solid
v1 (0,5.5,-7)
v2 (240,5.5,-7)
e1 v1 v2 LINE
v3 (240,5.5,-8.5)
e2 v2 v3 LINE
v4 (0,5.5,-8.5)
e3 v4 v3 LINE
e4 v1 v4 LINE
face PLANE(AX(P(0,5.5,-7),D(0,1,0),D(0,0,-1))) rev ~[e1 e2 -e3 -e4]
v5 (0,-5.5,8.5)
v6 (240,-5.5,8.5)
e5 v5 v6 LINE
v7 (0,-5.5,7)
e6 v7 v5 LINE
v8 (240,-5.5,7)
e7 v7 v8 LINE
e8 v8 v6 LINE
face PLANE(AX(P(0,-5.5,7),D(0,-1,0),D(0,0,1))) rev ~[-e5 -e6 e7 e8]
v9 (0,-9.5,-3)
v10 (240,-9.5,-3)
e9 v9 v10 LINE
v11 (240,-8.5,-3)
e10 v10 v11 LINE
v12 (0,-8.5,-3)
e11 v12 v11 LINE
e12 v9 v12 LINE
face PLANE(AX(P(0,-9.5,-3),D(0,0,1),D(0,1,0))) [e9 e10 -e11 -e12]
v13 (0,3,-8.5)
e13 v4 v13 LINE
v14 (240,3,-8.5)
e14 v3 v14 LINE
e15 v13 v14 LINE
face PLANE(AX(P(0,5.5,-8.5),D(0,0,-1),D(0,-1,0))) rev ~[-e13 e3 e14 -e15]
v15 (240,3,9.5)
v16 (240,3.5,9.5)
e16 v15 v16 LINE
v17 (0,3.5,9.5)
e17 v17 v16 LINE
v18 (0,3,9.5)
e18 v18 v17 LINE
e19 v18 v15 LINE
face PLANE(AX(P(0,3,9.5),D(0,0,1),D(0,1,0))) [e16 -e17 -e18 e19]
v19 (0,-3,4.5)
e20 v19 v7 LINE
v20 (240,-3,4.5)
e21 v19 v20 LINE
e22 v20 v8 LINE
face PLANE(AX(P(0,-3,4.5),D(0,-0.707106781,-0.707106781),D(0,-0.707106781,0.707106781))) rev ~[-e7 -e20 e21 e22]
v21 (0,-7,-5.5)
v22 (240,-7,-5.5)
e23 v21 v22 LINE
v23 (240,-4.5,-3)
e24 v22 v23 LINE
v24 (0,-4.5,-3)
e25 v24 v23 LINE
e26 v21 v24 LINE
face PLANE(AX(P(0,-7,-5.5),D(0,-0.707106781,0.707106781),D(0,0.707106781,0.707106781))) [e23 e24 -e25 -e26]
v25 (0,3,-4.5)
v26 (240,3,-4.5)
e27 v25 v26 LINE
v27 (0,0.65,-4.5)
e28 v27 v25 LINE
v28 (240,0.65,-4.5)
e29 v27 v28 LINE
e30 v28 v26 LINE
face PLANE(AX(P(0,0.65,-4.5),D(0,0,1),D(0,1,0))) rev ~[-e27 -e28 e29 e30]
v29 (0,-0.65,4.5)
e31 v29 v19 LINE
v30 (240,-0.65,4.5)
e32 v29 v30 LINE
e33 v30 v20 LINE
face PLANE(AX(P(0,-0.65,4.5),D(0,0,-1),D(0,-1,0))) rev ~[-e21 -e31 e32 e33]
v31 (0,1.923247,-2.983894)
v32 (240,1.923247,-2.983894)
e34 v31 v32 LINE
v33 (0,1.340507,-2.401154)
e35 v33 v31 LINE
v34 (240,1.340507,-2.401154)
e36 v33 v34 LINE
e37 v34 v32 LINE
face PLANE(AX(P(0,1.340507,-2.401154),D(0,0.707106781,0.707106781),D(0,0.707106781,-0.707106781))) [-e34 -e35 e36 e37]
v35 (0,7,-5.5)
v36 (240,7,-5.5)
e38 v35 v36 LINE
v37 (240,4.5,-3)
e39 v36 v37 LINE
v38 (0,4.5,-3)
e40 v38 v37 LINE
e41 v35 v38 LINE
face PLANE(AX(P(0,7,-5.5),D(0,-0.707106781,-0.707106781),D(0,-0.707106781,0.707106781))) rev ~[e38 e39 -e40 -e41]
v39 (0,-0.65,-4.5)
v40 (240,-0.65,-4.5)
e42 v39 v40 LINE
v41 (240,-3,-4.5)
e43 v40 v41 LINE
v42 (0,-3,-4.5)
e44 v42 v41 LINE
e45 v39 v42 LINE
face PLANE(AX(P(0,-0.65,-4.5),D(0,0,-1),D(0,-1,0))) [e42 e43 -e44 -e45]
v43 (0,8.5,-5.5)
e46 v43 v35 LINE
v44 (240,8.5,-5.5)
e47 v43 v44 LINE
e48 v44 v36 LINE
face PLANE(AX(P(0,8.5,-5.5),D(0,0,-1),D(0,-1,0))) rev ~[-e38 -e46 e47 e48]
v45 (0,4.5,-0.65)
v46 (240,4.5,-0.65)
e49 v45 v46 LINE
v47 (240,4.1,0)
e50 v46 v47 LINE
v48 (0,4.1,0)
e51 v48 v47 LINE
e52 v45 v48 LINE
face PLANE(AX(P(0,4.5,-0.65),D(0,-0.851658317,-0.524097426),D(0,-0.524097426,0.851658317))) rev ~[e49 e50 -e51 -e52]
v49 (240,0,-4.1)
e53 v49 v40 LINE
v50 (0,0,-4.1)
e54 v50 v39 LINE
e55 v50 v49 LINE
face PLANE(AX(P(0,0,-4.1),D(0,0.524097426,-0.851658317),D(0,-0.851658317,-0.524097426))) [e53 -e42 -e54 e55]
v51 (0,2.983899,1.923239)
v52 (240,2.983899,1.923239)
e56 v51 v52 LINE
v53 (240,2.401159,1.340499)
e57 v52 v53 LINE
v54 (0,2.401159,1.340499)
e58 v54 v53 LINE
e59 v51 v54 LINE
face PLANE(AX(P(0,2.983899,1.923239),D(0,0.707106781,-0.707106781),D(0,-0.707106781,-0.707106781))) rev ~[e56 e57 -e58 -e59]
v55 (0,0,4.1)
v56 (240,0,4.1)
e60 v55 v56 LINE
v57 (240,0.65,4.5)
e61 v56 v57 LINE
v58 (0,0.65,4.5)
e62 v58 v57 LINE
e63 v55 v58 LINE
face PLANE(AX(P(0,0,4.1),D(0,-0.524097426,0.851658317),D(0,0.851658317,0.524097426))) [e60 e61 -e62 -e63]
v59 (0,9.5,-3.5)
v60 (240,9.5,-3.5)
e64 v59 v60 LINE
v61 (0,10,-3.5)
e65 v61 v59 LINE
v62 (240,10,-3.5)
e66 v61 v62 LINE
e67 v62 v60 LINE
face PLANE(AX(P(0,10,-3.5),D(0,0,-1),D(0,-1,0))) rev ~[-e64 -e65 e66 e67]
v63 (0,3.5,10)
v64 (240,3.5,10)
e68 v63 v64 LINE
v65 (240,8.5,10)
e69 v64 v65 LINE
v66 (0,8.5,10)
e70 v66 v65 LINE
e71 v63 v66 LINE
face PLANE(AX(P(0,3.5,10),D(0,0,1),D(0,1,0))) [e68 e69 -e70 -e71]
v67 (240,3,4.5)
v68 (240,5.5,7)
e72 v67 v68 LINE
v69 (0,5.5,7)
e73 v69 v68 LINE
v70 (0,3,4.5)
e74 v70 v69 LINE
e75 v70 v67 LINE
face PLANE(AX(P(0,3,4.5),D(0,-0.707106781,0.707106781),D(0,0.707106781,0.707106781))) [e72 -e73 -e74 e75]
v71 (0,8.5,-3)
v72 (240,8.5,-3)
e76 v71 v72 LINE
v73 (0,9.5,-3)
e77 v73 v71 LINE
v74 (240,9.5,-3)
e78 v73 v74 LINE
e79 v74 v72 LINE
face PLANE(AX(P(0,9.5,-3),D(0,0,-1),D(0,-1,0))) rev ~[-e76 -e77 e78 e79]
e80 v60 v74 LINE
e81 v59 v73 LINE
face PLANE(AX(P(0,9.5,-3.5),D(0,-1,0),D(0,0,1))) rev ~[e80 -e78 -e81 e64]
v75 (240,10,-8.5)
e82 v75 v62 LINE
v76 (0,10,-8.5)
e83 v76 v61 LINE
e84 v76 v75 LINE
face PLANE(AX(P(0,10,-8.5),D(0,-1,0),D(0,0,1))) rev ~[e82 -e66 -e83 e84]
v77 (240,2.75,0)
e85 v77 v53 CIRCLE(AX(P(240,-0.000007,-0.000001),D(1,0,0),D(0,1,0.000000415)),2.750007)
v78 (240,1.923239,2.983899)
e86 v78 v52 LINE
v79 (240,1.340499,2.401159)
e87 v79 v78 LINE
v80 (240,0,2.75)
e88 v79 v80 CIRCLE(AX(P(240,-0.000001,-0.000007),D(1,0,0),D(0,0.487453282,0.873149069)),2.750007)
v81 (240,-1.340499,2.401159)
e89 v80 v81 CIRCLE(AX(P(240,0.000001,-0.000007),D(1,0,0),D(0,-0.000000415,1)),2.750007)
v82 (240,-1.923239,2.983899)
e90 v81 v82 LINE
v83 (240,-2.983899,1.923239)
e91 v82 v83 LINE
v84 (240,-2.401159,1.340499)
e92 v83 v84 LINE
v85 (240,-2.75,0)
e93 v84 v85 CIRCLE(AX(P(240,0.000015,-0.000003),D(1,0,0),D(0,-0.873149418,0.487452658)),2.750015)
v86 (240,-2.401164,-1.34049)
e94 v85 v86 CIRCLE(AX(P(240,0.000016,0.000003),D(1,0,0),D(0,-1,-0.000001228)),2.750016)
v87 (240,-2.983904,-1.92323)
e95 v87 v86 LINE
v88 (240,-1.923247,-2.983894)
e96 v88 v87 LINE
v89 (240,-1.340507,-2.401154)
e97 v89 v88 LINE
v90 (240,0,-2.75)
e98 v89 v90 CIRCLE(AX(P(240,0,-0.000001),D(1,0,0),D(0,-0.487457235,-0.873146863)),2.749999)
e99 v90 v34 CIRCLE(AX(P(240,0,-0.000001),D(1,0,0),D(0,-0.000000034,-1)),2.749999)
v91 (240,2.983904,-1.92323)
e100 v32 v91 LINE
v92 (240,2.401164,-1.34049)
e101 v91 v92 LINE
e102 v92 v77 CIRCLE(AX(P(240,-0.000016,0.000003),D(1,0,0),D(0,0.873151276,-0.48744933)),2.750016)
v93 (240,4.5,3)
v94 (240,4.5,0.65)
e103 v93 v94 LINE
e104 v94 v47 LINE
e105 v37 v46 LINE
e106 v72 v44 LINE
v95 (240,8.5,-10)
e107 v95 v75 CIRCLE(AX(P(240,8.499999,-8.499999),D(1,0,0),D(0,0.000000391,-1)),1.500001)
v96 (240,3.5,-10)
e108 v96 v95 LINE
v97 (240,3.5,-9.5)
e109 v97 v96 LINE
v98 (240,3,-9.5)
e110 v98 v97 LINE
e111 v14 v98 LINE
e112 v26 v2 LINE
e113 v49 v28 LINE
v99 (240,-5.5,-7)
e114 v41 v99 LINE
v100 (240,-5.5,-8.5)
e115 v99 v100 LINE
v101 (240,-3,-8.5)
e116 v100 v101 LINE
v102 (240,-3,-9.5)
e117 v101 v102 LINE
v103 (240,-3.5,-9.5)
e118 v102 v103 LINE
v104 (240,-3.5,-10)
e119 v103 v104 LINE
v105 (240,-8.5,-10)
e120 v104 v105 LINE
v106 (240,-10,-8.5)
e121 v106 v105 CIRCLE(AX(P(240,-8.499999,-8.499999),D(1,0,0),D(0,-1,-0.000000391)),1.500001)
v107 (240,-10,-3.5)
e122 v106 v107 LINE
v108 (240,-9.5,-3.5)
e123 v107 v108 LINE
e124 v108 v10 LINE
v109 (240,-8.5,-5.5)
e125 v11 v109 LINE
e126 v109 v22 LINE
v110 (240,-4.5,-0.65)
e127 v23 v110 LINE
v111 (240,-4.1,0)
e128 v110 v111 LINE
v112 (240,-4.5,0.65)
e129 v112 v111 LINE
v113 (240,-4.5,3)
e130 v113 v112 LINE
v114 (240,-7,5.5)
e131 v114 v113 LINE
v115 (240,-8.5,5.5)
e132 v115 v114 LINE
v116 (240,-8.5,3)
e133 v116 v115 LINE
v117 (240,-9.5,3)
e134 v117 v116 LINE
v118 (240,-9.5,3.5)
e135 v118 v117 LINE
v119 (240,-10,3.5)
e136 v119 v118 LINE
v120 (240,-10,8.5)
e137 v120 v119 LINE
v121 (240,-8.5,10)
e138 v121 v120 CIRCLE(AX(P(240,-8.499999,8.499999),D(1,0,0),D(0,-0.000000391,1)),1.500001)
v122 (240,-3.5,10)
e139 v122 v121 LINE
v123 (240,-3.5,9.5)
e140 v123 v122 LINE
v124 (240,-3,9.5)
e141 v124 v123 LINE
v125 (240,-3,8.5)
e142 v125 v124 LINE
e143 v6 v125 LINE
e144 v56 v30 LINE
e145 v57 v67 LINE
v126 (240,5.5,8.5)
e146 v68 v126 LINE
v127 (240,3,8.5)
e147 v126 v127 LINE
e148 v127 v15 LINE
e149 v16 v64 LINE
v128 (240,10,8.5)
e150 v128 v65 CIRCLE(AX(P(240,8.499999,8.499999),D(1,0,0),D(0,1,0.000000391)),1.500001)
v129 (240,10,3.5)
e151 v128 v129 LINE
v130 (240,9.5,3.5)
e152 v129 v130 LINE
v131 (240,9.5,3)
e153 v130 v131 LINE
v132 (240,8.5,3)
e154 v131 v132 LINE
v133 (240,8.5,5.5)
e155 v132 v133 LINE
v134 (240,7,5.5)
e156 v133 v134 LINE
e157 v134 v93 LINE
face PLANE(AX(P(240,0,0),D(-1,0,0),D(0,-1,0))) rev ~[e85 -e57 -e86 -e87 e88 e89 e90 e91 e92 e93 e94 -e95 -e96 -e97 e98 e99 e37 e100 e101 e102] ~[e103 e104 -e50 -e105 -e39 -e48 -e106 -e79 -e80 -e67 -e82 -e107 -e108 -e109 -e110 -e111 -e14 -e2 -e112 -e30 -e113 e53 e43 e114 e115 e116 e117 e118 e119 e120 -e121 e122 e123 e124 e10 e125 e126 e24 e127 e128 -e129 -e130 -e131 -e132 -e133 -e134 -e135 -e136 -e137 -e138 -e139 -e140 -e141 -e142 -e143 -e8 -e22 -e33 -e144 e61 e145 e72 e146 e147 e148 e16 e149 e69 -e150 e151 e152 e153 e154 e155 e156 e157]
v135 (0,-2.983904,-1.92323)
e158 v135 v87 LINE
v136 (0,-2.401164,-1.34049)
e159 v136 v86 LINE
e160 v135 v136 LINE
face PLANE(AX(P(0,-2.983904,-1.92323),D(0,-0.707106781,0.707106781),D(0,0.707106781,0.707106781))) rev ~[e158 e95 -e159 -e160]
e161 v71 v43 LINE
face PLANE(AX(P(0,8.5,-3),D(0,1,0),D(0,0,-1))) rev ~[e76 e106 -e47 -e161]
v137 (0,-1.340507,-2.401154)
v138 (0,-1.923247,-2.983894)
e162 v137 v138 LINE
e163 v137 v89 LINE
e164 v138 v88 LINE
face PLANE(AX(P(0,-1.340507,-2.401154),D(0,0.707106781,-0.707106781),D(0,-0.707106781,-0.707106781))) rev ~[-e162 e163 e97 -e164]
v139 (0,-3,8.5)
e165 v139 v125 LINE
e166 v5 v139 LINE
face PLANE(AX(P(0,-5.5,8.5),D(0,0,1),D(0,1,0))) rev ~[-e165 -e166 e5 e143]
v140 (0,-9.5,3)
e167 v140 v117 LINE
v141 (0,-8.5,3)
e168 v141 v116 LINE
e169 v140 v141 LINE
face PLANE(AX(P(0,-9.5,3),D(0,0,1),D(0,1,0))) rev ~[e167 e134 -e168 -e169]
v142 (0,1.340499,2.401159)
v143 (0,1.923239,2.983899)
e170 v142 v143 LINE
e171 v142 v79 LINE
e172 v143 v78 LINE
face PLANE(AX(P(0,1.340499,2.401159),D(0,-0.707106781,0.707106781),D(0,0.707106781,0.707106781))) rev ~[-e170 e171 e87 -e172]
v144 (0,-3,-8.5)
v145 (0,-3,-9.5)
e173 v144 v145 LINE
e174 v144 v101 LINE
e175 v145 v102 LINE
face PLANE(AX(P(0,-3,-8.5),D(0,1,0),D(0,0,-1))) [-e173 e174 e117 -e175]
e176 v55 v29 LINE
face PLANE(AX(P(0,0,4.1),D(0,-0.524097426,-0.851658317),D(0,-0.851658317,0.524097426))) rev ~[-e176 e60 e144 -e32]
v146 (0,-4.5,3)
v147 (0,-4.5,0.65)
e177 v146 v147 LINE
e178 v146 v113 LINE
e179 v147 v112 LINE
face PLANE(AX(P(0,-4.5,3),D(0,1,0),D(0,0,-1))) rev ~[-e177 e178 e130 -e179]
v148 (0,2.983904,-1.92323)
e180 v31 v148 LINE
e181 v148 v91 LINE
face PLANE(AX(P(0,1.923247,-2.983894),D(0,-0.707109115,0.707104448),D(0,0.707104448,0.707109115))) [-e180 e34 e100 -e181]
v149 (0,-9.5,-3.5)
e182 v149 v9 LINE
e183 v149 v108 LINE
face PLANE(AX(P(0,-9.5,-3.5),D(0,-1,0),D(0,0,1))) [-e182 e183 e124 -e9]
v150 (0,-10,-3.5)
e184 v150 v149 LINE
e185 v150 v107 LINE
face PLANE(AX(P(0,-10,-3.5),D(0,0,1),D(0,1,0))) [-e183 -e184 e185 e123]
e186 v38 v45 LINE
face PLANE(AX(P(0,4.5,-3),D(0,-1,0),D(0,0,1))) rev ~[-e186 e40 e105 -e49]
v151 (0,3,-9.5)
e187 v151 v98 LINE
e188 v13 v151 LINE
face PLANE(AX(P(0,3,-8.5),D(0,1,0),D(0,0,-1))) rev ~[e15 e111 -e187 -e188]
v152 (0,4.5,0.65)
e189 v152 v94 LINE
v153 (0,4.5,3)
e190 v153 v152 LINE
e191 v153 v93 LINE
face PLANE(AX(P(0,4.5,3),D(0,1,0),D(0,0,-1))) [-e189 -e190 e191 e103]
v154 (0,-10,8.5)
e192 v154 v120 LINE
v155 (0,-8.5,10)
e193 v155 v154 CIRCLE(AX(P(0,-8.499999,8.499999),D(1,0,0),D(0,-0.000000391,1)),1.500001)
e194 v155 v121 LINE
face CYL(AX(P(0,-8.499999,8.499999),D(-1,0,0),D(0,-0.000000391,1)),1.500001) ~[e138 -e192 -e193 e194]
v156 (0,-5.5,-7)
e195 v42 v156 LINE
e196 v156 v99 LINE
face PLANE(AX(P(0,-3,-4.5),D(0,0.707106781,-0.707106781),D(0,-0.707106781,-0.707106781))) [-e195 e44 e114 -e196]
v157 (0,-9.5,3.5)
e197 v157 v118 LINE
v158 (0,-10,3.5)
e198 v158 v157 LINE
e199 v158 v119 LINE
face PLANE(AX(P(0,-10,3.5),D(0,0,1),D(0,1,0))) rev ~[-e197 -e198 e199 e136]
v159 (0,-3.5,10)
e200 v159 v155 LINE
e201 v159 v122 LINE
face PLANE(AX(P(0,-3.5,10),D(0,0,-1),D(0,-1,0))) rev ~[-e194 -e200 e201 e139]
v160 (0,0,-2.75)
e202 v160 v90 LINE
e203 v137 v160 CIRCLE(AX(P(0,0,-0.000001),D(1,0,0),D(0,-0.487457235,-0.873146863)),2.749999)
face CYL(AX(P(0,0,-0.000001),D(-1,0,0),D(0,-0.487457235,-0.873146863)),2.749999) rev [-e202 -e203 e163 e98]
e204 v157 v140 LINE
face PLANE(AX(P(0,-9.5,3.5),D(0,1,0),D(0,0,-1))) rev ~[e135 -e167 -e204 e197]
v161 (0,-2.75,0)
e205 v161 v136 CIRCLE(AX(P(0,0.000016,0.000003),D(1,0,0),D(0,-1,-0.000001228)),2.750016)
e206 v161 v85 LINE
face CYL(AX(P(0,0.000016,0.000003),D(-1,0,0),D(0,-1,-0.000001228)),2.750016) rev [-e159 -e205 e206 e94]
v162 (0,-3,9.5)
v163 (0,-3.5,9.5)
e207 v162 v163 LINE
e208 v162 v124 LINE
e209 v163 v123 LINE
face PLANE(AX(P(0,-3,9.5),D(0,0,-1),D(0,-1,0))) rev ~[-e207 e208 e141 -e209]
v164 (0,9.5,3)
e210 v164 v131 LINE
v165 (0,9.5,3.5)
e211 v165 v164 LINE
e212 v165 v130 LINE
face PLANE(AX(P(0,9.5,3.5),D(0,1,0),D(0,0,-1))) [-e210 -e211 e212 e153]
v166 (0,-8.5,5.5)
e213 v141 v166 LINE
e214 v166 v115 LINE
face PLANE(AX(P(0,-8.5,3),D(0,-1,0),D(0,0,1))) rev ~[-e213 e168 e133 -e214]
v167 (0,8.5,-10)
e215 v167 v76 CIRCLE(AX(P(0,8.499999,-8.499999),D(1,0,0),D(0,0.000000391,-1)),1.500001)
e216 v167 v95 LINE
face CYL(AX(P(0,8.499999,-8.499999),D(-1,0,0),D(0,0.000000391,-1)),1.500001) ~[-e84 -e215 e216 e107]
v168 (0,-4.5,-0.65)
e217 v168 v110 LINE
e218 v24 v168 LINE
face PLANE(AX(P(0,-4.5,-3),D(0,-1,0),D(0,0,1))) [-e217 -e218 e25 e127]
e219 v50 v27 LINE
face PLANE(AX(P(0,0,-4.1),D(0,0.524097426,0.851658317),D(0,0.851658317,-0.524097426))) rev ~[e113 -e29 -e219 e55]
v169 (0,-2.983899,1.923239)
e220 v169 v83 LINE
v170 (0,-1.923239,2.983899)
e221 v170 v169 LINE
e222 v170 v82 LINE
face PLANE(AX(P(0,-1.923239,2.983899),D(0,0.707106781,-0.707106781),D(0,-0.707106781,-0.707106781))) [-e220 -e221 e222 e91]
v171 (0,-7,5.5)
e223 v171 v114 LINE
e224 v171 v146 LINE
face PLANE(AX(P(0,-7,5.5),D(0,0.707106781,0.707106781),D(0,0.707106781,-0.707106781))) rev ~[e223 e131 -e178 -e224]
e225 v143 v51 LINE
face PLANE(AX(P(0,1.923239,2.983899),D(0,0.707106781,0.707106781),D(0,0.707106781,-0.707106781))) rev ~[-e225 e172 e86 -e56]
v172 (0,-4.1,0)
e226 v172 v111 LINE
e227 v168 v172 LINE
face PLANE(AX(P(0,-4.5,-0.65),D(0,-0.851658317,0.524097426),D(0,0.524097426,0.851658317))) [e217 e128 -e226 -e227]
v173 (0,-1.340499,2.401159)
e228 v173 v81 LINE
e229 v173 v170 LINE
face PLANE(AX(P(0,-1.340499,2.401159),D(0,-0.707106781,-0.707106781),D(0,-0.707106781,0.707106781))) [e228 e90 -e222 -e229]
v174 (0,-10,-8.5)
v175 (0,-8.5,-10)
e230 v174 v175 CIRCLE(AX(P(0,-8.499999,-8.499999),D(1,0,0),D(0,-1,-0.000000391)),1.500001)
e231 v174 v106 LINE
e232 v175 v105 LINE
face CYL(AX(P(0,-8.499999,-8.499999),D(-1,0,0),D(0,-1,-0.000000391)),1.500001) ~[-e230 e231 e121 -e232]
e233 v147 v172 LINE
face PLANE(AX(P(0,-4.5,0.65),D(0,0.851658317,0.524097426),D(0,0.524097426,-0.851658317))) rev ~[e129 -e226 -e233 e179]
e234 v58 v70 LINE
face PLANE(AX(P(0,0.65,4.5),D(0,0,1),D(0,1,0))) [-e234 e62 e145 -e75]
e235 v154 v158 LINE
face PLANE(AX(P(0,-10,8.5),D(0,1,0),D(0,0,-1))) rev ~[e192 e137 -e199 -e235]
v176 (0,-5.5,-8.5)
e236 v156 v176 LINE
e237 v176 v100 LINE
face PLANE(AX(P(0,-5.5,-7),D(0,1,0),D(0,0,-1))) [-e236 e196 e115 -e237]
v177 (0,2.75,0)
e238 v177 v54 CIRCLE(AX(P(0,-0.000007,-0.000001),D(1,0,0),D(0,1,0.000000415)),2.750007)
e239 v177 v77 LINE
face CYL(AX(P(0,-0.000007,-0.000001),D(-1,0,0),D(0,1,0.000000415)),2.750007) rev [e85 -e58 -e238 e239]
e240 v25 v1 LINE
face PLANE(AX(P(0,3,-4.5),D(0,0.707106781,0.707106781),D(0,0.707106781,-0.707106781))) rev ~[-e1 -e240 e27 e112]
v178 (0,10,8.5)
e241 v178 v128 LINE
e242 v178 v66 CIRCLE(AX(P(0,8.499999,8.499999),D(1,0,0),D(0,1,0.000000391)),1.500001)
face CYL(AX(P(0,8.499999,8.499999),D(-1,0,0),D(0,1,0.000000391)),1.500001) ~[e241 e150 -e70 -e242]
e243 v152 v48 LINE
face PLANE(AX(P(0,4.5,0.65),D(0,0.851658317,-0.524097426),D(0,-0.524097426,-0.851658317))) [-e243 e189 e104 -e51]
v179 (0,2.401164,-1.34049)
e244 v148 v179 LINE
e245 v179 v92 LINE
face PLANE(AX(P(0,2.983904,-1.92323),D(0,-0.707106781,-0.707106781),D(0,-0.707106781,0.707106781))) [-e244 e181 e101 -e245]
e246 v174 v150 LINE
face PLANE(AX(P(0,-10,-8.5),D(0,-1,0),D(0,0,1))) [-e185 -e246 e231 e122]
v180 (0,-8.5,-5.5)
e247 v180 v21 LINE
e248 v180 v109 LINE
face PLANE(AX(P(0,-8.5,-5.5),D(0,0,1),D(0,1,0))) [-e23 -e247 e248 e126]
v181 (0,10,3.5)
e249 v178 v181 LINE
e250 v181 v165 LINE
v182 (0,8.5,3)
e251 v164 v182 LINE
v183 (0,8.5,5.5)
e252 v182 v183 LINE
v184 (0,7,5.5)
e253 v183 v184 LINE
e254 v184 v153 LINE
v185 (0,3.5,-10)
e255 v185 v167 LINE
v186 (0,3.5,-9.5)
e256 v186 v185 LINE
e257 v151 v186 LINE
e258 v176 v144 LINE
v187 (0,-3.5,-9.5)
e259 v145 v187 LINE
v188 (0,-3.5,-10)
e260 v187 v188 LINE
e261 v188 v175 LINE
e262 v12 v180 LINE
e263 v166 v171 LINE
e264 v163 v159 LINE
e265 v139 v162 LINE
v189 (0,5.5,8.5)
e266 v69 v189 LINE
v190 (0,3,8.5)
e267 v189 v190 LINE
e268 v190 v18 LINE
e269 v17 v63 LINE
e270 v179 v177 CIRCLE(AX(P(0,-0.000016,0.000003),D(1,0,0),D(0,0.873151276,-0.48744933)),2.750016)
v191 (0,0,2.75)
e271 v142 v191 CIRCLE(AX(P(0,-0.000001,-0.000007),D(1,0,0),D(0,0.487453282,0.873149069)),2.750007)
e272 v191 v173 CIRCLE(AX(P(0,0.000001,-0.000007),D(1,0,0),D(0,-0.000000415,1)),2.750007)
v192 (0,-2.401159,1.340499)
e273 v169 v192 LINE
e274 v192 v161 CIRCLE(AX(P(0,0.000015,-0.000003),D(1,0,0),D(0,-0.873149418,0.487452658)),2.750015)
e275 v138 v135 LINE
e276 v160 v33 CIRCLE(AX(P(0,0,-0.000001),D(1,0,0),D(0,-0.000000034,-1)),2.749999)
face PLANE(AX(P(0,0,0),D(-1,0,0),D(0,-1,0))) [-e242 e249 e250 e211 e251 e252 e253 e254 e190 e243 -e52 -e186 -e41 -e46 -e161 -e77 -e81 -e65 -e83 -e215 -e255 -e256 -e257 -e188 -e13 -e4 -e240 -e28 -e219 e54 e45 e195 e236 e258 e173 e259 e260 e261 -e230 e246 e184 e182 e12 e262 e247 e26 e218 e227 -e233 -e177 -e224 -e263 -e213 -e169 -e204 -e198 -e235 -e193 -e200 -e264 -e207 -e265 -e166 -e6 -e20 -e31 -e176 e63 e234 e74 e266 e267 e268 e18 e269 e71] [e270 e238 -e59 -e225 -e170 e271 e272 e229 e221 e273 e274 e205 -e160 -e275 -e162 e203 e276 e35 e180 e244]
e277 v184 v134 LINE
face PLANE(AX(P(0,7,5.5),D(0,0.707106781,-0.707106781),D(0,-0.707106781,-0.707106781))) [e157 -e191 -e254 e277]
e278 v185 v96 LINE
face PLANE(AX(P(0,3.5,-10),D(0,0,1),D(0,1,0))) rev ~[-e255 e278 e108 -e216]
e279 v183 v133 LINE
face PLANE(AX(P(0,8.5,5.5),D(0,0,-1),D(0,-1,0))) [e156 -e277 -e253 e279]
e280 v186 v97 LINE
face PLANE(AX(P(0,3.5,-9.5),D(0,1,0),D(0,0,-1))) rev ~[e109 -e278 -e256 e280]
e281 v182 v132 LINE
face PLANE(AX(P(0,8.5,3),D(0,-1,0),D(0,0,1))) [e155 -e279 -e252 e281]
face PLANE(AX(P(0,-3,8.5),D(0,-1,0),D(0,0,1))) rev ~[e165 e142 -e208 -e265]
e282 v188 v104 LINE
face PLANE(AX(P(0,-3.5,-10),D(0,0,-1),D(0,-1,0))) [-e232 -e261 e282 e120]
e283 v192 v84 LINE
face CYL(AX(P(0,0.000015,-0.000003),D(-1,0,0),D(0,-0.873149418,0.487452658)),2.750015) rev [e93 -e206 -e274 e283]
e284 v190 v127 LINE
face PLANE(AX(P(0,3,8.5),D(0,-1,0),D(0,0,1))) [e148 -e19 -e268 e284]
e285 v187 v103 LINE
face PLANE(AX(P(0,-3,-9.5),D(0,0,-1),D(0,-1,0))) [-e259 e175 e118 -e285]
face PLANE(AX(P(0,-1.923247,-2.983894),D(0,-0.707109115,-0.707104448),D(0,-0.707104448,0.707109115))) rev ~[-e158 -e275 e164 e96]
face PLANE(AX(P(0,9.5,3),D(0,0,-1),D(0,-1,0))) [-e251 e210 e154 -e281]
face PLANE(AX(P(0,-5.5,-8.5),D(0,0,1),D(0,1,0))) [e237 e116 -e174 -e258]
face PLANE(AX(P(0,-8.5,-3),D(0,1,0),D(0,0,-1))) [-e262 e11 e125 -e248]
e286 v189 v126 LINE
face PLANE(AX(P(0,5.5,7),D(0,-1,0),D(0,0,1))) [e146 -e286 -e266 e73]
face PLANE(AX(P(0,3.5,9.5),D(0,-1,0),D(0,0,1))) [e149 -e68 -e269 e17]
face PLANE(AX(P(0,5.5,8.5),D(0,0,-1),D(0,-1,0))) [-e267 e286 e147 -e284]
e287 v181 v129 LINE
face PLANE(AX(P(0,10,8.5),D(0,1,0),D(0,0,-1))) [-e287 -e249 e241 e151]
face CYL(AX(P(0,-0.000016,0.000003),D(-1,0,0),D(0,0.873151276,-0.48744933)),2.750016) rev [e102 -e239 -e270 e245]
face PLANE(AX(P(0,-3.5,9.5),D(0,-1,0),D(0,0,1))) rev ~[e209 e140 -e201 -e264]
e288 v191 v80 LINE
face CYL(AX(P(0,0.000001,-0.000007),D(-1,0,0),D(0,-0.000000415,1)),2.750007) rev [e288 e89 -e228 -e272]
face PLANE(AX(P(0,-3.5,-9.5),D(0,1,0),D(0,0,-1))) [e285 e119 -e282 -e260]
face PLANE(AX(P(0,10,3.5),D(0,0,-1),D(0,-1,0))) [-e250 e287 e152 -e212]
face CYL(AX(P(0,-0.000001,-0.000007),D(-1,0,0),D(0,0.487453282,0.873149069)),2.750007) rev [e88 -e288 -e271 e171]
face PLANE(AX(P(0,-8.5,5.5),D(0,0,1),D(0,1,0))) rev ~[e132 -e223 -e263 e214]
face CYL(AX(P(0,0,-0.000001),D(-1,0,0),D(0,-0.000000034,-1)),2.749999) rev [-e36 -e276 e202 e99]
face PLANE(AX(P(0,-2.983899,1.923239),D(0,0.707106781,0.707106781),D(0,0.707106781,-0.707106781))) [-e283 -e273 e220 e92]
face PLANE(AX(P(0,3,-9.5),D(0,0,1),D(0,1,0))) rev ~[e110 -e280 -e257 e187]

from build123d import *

# Parameters (mm, degrees)
PAD_DEPTH = 240


with BuildPart() as part:
    # Sketch → Pad (new body)
    with BuildSketch(Plane.YZ):
        with BuildLine():
            Line((0, 4.1), (0.65, 4.5))
            Line((0.65, 4.5), (3, 4.5))
            Line((3, 4.5), (5.5, 7))
            Line((5.5, 7), (5.5, 8.5))
            Line((5.5, 8.5), (3, 8.5))
            Line((3, 8.5), (3, 9.5))
            Line((3, 9.5), (3.5, 9.5))
            Line((3.5, 9.5), (3.5, 10))
            Line((3.5, 10), (8.5, 10))
            ThreePointArc((10, 8.5), (9.56066, 9.56066), (8.5, 10))
            Line((10, 8.5), (10, 3.5))
            Line((10, 3.5), (9.5, 3.5))
            Line((9.5, 3.5), (9.5, 3))
            Line((9.5, 3), (8.5, 3))
            Line((8.5, 3), (8.5, 5.5))
            Line((8.5, 5.5), (7, 5.5))
            Line((7, 5.5), (4.5, 3))
            Line((4.5, 3), (4.5, 0.65))
            Line((4.5, 0.65), (4.1, 0))
            Line((4.5, -0.65), (4.1, 0))
            Line((4.5, -3), (4.5, -0.65))
            Line((7, -5.5), (4.5, -3))
            Line((8.5, -5.5), (7, -5.5))
            Line((8.5, -3), (8.5, -5.5))
            Line((9.5, -3), (8.5, -3))
            Line((9.5, -3.5), (9.5, -3))
            Line((10, -3.5), (9.5, -3.5))
            Line((10, -8.5), (10, -3.5))
            ThreePointArc((8.5, -10), (9.56066, -9.56066), (10, -8.5))
            Line((3.5, -10), (8.5, -10))
            Line((3.5, -9.5), (3.5, -10))
            Line((3, -9.5), (3.5, -9.5))
            Line((3, -8.5), (3, -9.5))
            Line((5.5, -8.5), (3, -8.5))
            Line((5.5, -7), (5.5, -8.5))
            Line((3, -4.5), (5.5, -7))
            Line((0.65, -4.5), (3, -4.5))
            Line((0, -4.1), (0.65, -4.5))
            Line((0, -4.1), (-0.65, -4.5))
            Line((-0.65, -4.5), (-3, -4.5))
            Line((-3, -4.5), (-5.5, -7))
            Line((-5.5, -7), (-5.5, -8.5))
            Line((-5.5, -8.5), (-3, -8.5))
            Line((-3, -8.5), (-3, -9.5))
            Line((-3, -9.5), (-3.5, -9.5))
            Line((-3.5, -9.5), (-3.5, -10))
            Line((-3.5, -10), (-8.5, -10))
            ThreePointArc((-10, -8.5), (-9.56066, -9.56066), (-8.5, -10))
            Line((-10, -8.5), (-10, -3.5))
            Line((-10, -3.5), (-9.5, -3.5))
            Line((-9.5, -3.5), (-9.5, -3))
            Line((-9.5, -3), (-8.5, -3))
            Line((-8.5, -3), (-8.5, -5.5))
            Line((-8.5, -5.5), (-7, -5.5))
            Line((-7, -5.5), (-4.5, -3))
            Line((-4.5, -3), (-4.5, -0.65))
            Line((-4.5, -0.65), (-4.1, 0))
            Line((-4.5, 0.65), (-4.1, 0))
            Line((-4.5, 3), (-4.5, 0.65))
            Line((-7, 5.5), (-4.5, 3))
            Line((-8.5, 5.5), (-7, 5.5))
            Line((-8.5, 3), (-8.5, 5.5))
            Line((-9.5, 3), (-8.5, 3))
            Line((-9.5, 3.5), (-9.5, 3))
            Line((-10, 3.5), (-9.5, 3.5))
            Line((-10, 8.5), (-10, 3.5))
            ThreePointArc((-8.5, 10), (-9.56066, 9.56066), (-10, 8.5))
            Line((-3.5, 10), (-8.5, 10))
            Line((-3.5, 9.5), (-3.5, 10))
            Line((-3, 9.5), (-3.5, 9.5))
            Line((-3, 8.5), (-3, 9.5))
            Line((-5.5, 8.5), (-3, 8.5))
            Line((-5.5, 7), (-5.5, 8.5))
            Line((-3, 4.5), (-5.5, 7))
            Line((-0.65, 4.5), (-3, 4.5))
            Line((0, 4.1), (-0.65, 4.5))
        make_face()
        with BuildLine():
            Line((1.340499, 2.401159), (1.923239, 2.983899))
            Line((1.923239, 2.983899), (2.983899, 1.923239))
            Line((2.983899, 1.923239), (2.401159, 1.340499))
            ThreePointArc((2.75, 0), (2.661361, 0.692573), (2.401159, 1.340499))
            ThreePointArc((2.401164, -1.34049), (2.661362, -0.692568), (2.75, 0))
            Line((2.983904, -1.92323), (2.401164, -1.34049))
            Line((1.923247, -2.983894), (2.983904, -1.92323))
            Line((1.340507, -2.401154), (1.923247, -2.983894))
            ThreePointArc((0, -2.75), (0.692577, -2.66136), (1.340507, -2.401154))
            ThreePointArc((-1.340507, -2.401154), (-0.692577, -2.66136), (0, -2.75))
            Line((-1.340507, -2.401154), (-1.923247, -2.983894))
            Line((-1.923247, -2.983894), (-2.983904, -1.92323))
            Line((-2.983904, -1.92323), (-2.401164, -1.34049))
            ThreePointArc((-2.75, 0), (-2.661362, -0.692568), (-2.401164, -1.34049))
            ThreePointArc((-2.401159, 1.340499), (-2.661361, 0.692572), (-2.75, 0))
            Line((-2.983899, 1.923239), (-2.401159, 1.340499))
            Line((-1.923239, 2.983899), (-2.983899, 1.923239))
            Line((-1.340499, 2.401159), (-1.923239, 2.983899))
            ThreePointArc((0, 2.75), (-0.692573, 2.661361), (-1.340499, 2.401159))
            ThreePointArc((1.340499, 2.401159), (0.692573, 2.661361), (0, 2.75))
        make_face(mode=Mode.SUBTRACT)
    extrude(amount=PAD_DEPTH)


solid = part.part
